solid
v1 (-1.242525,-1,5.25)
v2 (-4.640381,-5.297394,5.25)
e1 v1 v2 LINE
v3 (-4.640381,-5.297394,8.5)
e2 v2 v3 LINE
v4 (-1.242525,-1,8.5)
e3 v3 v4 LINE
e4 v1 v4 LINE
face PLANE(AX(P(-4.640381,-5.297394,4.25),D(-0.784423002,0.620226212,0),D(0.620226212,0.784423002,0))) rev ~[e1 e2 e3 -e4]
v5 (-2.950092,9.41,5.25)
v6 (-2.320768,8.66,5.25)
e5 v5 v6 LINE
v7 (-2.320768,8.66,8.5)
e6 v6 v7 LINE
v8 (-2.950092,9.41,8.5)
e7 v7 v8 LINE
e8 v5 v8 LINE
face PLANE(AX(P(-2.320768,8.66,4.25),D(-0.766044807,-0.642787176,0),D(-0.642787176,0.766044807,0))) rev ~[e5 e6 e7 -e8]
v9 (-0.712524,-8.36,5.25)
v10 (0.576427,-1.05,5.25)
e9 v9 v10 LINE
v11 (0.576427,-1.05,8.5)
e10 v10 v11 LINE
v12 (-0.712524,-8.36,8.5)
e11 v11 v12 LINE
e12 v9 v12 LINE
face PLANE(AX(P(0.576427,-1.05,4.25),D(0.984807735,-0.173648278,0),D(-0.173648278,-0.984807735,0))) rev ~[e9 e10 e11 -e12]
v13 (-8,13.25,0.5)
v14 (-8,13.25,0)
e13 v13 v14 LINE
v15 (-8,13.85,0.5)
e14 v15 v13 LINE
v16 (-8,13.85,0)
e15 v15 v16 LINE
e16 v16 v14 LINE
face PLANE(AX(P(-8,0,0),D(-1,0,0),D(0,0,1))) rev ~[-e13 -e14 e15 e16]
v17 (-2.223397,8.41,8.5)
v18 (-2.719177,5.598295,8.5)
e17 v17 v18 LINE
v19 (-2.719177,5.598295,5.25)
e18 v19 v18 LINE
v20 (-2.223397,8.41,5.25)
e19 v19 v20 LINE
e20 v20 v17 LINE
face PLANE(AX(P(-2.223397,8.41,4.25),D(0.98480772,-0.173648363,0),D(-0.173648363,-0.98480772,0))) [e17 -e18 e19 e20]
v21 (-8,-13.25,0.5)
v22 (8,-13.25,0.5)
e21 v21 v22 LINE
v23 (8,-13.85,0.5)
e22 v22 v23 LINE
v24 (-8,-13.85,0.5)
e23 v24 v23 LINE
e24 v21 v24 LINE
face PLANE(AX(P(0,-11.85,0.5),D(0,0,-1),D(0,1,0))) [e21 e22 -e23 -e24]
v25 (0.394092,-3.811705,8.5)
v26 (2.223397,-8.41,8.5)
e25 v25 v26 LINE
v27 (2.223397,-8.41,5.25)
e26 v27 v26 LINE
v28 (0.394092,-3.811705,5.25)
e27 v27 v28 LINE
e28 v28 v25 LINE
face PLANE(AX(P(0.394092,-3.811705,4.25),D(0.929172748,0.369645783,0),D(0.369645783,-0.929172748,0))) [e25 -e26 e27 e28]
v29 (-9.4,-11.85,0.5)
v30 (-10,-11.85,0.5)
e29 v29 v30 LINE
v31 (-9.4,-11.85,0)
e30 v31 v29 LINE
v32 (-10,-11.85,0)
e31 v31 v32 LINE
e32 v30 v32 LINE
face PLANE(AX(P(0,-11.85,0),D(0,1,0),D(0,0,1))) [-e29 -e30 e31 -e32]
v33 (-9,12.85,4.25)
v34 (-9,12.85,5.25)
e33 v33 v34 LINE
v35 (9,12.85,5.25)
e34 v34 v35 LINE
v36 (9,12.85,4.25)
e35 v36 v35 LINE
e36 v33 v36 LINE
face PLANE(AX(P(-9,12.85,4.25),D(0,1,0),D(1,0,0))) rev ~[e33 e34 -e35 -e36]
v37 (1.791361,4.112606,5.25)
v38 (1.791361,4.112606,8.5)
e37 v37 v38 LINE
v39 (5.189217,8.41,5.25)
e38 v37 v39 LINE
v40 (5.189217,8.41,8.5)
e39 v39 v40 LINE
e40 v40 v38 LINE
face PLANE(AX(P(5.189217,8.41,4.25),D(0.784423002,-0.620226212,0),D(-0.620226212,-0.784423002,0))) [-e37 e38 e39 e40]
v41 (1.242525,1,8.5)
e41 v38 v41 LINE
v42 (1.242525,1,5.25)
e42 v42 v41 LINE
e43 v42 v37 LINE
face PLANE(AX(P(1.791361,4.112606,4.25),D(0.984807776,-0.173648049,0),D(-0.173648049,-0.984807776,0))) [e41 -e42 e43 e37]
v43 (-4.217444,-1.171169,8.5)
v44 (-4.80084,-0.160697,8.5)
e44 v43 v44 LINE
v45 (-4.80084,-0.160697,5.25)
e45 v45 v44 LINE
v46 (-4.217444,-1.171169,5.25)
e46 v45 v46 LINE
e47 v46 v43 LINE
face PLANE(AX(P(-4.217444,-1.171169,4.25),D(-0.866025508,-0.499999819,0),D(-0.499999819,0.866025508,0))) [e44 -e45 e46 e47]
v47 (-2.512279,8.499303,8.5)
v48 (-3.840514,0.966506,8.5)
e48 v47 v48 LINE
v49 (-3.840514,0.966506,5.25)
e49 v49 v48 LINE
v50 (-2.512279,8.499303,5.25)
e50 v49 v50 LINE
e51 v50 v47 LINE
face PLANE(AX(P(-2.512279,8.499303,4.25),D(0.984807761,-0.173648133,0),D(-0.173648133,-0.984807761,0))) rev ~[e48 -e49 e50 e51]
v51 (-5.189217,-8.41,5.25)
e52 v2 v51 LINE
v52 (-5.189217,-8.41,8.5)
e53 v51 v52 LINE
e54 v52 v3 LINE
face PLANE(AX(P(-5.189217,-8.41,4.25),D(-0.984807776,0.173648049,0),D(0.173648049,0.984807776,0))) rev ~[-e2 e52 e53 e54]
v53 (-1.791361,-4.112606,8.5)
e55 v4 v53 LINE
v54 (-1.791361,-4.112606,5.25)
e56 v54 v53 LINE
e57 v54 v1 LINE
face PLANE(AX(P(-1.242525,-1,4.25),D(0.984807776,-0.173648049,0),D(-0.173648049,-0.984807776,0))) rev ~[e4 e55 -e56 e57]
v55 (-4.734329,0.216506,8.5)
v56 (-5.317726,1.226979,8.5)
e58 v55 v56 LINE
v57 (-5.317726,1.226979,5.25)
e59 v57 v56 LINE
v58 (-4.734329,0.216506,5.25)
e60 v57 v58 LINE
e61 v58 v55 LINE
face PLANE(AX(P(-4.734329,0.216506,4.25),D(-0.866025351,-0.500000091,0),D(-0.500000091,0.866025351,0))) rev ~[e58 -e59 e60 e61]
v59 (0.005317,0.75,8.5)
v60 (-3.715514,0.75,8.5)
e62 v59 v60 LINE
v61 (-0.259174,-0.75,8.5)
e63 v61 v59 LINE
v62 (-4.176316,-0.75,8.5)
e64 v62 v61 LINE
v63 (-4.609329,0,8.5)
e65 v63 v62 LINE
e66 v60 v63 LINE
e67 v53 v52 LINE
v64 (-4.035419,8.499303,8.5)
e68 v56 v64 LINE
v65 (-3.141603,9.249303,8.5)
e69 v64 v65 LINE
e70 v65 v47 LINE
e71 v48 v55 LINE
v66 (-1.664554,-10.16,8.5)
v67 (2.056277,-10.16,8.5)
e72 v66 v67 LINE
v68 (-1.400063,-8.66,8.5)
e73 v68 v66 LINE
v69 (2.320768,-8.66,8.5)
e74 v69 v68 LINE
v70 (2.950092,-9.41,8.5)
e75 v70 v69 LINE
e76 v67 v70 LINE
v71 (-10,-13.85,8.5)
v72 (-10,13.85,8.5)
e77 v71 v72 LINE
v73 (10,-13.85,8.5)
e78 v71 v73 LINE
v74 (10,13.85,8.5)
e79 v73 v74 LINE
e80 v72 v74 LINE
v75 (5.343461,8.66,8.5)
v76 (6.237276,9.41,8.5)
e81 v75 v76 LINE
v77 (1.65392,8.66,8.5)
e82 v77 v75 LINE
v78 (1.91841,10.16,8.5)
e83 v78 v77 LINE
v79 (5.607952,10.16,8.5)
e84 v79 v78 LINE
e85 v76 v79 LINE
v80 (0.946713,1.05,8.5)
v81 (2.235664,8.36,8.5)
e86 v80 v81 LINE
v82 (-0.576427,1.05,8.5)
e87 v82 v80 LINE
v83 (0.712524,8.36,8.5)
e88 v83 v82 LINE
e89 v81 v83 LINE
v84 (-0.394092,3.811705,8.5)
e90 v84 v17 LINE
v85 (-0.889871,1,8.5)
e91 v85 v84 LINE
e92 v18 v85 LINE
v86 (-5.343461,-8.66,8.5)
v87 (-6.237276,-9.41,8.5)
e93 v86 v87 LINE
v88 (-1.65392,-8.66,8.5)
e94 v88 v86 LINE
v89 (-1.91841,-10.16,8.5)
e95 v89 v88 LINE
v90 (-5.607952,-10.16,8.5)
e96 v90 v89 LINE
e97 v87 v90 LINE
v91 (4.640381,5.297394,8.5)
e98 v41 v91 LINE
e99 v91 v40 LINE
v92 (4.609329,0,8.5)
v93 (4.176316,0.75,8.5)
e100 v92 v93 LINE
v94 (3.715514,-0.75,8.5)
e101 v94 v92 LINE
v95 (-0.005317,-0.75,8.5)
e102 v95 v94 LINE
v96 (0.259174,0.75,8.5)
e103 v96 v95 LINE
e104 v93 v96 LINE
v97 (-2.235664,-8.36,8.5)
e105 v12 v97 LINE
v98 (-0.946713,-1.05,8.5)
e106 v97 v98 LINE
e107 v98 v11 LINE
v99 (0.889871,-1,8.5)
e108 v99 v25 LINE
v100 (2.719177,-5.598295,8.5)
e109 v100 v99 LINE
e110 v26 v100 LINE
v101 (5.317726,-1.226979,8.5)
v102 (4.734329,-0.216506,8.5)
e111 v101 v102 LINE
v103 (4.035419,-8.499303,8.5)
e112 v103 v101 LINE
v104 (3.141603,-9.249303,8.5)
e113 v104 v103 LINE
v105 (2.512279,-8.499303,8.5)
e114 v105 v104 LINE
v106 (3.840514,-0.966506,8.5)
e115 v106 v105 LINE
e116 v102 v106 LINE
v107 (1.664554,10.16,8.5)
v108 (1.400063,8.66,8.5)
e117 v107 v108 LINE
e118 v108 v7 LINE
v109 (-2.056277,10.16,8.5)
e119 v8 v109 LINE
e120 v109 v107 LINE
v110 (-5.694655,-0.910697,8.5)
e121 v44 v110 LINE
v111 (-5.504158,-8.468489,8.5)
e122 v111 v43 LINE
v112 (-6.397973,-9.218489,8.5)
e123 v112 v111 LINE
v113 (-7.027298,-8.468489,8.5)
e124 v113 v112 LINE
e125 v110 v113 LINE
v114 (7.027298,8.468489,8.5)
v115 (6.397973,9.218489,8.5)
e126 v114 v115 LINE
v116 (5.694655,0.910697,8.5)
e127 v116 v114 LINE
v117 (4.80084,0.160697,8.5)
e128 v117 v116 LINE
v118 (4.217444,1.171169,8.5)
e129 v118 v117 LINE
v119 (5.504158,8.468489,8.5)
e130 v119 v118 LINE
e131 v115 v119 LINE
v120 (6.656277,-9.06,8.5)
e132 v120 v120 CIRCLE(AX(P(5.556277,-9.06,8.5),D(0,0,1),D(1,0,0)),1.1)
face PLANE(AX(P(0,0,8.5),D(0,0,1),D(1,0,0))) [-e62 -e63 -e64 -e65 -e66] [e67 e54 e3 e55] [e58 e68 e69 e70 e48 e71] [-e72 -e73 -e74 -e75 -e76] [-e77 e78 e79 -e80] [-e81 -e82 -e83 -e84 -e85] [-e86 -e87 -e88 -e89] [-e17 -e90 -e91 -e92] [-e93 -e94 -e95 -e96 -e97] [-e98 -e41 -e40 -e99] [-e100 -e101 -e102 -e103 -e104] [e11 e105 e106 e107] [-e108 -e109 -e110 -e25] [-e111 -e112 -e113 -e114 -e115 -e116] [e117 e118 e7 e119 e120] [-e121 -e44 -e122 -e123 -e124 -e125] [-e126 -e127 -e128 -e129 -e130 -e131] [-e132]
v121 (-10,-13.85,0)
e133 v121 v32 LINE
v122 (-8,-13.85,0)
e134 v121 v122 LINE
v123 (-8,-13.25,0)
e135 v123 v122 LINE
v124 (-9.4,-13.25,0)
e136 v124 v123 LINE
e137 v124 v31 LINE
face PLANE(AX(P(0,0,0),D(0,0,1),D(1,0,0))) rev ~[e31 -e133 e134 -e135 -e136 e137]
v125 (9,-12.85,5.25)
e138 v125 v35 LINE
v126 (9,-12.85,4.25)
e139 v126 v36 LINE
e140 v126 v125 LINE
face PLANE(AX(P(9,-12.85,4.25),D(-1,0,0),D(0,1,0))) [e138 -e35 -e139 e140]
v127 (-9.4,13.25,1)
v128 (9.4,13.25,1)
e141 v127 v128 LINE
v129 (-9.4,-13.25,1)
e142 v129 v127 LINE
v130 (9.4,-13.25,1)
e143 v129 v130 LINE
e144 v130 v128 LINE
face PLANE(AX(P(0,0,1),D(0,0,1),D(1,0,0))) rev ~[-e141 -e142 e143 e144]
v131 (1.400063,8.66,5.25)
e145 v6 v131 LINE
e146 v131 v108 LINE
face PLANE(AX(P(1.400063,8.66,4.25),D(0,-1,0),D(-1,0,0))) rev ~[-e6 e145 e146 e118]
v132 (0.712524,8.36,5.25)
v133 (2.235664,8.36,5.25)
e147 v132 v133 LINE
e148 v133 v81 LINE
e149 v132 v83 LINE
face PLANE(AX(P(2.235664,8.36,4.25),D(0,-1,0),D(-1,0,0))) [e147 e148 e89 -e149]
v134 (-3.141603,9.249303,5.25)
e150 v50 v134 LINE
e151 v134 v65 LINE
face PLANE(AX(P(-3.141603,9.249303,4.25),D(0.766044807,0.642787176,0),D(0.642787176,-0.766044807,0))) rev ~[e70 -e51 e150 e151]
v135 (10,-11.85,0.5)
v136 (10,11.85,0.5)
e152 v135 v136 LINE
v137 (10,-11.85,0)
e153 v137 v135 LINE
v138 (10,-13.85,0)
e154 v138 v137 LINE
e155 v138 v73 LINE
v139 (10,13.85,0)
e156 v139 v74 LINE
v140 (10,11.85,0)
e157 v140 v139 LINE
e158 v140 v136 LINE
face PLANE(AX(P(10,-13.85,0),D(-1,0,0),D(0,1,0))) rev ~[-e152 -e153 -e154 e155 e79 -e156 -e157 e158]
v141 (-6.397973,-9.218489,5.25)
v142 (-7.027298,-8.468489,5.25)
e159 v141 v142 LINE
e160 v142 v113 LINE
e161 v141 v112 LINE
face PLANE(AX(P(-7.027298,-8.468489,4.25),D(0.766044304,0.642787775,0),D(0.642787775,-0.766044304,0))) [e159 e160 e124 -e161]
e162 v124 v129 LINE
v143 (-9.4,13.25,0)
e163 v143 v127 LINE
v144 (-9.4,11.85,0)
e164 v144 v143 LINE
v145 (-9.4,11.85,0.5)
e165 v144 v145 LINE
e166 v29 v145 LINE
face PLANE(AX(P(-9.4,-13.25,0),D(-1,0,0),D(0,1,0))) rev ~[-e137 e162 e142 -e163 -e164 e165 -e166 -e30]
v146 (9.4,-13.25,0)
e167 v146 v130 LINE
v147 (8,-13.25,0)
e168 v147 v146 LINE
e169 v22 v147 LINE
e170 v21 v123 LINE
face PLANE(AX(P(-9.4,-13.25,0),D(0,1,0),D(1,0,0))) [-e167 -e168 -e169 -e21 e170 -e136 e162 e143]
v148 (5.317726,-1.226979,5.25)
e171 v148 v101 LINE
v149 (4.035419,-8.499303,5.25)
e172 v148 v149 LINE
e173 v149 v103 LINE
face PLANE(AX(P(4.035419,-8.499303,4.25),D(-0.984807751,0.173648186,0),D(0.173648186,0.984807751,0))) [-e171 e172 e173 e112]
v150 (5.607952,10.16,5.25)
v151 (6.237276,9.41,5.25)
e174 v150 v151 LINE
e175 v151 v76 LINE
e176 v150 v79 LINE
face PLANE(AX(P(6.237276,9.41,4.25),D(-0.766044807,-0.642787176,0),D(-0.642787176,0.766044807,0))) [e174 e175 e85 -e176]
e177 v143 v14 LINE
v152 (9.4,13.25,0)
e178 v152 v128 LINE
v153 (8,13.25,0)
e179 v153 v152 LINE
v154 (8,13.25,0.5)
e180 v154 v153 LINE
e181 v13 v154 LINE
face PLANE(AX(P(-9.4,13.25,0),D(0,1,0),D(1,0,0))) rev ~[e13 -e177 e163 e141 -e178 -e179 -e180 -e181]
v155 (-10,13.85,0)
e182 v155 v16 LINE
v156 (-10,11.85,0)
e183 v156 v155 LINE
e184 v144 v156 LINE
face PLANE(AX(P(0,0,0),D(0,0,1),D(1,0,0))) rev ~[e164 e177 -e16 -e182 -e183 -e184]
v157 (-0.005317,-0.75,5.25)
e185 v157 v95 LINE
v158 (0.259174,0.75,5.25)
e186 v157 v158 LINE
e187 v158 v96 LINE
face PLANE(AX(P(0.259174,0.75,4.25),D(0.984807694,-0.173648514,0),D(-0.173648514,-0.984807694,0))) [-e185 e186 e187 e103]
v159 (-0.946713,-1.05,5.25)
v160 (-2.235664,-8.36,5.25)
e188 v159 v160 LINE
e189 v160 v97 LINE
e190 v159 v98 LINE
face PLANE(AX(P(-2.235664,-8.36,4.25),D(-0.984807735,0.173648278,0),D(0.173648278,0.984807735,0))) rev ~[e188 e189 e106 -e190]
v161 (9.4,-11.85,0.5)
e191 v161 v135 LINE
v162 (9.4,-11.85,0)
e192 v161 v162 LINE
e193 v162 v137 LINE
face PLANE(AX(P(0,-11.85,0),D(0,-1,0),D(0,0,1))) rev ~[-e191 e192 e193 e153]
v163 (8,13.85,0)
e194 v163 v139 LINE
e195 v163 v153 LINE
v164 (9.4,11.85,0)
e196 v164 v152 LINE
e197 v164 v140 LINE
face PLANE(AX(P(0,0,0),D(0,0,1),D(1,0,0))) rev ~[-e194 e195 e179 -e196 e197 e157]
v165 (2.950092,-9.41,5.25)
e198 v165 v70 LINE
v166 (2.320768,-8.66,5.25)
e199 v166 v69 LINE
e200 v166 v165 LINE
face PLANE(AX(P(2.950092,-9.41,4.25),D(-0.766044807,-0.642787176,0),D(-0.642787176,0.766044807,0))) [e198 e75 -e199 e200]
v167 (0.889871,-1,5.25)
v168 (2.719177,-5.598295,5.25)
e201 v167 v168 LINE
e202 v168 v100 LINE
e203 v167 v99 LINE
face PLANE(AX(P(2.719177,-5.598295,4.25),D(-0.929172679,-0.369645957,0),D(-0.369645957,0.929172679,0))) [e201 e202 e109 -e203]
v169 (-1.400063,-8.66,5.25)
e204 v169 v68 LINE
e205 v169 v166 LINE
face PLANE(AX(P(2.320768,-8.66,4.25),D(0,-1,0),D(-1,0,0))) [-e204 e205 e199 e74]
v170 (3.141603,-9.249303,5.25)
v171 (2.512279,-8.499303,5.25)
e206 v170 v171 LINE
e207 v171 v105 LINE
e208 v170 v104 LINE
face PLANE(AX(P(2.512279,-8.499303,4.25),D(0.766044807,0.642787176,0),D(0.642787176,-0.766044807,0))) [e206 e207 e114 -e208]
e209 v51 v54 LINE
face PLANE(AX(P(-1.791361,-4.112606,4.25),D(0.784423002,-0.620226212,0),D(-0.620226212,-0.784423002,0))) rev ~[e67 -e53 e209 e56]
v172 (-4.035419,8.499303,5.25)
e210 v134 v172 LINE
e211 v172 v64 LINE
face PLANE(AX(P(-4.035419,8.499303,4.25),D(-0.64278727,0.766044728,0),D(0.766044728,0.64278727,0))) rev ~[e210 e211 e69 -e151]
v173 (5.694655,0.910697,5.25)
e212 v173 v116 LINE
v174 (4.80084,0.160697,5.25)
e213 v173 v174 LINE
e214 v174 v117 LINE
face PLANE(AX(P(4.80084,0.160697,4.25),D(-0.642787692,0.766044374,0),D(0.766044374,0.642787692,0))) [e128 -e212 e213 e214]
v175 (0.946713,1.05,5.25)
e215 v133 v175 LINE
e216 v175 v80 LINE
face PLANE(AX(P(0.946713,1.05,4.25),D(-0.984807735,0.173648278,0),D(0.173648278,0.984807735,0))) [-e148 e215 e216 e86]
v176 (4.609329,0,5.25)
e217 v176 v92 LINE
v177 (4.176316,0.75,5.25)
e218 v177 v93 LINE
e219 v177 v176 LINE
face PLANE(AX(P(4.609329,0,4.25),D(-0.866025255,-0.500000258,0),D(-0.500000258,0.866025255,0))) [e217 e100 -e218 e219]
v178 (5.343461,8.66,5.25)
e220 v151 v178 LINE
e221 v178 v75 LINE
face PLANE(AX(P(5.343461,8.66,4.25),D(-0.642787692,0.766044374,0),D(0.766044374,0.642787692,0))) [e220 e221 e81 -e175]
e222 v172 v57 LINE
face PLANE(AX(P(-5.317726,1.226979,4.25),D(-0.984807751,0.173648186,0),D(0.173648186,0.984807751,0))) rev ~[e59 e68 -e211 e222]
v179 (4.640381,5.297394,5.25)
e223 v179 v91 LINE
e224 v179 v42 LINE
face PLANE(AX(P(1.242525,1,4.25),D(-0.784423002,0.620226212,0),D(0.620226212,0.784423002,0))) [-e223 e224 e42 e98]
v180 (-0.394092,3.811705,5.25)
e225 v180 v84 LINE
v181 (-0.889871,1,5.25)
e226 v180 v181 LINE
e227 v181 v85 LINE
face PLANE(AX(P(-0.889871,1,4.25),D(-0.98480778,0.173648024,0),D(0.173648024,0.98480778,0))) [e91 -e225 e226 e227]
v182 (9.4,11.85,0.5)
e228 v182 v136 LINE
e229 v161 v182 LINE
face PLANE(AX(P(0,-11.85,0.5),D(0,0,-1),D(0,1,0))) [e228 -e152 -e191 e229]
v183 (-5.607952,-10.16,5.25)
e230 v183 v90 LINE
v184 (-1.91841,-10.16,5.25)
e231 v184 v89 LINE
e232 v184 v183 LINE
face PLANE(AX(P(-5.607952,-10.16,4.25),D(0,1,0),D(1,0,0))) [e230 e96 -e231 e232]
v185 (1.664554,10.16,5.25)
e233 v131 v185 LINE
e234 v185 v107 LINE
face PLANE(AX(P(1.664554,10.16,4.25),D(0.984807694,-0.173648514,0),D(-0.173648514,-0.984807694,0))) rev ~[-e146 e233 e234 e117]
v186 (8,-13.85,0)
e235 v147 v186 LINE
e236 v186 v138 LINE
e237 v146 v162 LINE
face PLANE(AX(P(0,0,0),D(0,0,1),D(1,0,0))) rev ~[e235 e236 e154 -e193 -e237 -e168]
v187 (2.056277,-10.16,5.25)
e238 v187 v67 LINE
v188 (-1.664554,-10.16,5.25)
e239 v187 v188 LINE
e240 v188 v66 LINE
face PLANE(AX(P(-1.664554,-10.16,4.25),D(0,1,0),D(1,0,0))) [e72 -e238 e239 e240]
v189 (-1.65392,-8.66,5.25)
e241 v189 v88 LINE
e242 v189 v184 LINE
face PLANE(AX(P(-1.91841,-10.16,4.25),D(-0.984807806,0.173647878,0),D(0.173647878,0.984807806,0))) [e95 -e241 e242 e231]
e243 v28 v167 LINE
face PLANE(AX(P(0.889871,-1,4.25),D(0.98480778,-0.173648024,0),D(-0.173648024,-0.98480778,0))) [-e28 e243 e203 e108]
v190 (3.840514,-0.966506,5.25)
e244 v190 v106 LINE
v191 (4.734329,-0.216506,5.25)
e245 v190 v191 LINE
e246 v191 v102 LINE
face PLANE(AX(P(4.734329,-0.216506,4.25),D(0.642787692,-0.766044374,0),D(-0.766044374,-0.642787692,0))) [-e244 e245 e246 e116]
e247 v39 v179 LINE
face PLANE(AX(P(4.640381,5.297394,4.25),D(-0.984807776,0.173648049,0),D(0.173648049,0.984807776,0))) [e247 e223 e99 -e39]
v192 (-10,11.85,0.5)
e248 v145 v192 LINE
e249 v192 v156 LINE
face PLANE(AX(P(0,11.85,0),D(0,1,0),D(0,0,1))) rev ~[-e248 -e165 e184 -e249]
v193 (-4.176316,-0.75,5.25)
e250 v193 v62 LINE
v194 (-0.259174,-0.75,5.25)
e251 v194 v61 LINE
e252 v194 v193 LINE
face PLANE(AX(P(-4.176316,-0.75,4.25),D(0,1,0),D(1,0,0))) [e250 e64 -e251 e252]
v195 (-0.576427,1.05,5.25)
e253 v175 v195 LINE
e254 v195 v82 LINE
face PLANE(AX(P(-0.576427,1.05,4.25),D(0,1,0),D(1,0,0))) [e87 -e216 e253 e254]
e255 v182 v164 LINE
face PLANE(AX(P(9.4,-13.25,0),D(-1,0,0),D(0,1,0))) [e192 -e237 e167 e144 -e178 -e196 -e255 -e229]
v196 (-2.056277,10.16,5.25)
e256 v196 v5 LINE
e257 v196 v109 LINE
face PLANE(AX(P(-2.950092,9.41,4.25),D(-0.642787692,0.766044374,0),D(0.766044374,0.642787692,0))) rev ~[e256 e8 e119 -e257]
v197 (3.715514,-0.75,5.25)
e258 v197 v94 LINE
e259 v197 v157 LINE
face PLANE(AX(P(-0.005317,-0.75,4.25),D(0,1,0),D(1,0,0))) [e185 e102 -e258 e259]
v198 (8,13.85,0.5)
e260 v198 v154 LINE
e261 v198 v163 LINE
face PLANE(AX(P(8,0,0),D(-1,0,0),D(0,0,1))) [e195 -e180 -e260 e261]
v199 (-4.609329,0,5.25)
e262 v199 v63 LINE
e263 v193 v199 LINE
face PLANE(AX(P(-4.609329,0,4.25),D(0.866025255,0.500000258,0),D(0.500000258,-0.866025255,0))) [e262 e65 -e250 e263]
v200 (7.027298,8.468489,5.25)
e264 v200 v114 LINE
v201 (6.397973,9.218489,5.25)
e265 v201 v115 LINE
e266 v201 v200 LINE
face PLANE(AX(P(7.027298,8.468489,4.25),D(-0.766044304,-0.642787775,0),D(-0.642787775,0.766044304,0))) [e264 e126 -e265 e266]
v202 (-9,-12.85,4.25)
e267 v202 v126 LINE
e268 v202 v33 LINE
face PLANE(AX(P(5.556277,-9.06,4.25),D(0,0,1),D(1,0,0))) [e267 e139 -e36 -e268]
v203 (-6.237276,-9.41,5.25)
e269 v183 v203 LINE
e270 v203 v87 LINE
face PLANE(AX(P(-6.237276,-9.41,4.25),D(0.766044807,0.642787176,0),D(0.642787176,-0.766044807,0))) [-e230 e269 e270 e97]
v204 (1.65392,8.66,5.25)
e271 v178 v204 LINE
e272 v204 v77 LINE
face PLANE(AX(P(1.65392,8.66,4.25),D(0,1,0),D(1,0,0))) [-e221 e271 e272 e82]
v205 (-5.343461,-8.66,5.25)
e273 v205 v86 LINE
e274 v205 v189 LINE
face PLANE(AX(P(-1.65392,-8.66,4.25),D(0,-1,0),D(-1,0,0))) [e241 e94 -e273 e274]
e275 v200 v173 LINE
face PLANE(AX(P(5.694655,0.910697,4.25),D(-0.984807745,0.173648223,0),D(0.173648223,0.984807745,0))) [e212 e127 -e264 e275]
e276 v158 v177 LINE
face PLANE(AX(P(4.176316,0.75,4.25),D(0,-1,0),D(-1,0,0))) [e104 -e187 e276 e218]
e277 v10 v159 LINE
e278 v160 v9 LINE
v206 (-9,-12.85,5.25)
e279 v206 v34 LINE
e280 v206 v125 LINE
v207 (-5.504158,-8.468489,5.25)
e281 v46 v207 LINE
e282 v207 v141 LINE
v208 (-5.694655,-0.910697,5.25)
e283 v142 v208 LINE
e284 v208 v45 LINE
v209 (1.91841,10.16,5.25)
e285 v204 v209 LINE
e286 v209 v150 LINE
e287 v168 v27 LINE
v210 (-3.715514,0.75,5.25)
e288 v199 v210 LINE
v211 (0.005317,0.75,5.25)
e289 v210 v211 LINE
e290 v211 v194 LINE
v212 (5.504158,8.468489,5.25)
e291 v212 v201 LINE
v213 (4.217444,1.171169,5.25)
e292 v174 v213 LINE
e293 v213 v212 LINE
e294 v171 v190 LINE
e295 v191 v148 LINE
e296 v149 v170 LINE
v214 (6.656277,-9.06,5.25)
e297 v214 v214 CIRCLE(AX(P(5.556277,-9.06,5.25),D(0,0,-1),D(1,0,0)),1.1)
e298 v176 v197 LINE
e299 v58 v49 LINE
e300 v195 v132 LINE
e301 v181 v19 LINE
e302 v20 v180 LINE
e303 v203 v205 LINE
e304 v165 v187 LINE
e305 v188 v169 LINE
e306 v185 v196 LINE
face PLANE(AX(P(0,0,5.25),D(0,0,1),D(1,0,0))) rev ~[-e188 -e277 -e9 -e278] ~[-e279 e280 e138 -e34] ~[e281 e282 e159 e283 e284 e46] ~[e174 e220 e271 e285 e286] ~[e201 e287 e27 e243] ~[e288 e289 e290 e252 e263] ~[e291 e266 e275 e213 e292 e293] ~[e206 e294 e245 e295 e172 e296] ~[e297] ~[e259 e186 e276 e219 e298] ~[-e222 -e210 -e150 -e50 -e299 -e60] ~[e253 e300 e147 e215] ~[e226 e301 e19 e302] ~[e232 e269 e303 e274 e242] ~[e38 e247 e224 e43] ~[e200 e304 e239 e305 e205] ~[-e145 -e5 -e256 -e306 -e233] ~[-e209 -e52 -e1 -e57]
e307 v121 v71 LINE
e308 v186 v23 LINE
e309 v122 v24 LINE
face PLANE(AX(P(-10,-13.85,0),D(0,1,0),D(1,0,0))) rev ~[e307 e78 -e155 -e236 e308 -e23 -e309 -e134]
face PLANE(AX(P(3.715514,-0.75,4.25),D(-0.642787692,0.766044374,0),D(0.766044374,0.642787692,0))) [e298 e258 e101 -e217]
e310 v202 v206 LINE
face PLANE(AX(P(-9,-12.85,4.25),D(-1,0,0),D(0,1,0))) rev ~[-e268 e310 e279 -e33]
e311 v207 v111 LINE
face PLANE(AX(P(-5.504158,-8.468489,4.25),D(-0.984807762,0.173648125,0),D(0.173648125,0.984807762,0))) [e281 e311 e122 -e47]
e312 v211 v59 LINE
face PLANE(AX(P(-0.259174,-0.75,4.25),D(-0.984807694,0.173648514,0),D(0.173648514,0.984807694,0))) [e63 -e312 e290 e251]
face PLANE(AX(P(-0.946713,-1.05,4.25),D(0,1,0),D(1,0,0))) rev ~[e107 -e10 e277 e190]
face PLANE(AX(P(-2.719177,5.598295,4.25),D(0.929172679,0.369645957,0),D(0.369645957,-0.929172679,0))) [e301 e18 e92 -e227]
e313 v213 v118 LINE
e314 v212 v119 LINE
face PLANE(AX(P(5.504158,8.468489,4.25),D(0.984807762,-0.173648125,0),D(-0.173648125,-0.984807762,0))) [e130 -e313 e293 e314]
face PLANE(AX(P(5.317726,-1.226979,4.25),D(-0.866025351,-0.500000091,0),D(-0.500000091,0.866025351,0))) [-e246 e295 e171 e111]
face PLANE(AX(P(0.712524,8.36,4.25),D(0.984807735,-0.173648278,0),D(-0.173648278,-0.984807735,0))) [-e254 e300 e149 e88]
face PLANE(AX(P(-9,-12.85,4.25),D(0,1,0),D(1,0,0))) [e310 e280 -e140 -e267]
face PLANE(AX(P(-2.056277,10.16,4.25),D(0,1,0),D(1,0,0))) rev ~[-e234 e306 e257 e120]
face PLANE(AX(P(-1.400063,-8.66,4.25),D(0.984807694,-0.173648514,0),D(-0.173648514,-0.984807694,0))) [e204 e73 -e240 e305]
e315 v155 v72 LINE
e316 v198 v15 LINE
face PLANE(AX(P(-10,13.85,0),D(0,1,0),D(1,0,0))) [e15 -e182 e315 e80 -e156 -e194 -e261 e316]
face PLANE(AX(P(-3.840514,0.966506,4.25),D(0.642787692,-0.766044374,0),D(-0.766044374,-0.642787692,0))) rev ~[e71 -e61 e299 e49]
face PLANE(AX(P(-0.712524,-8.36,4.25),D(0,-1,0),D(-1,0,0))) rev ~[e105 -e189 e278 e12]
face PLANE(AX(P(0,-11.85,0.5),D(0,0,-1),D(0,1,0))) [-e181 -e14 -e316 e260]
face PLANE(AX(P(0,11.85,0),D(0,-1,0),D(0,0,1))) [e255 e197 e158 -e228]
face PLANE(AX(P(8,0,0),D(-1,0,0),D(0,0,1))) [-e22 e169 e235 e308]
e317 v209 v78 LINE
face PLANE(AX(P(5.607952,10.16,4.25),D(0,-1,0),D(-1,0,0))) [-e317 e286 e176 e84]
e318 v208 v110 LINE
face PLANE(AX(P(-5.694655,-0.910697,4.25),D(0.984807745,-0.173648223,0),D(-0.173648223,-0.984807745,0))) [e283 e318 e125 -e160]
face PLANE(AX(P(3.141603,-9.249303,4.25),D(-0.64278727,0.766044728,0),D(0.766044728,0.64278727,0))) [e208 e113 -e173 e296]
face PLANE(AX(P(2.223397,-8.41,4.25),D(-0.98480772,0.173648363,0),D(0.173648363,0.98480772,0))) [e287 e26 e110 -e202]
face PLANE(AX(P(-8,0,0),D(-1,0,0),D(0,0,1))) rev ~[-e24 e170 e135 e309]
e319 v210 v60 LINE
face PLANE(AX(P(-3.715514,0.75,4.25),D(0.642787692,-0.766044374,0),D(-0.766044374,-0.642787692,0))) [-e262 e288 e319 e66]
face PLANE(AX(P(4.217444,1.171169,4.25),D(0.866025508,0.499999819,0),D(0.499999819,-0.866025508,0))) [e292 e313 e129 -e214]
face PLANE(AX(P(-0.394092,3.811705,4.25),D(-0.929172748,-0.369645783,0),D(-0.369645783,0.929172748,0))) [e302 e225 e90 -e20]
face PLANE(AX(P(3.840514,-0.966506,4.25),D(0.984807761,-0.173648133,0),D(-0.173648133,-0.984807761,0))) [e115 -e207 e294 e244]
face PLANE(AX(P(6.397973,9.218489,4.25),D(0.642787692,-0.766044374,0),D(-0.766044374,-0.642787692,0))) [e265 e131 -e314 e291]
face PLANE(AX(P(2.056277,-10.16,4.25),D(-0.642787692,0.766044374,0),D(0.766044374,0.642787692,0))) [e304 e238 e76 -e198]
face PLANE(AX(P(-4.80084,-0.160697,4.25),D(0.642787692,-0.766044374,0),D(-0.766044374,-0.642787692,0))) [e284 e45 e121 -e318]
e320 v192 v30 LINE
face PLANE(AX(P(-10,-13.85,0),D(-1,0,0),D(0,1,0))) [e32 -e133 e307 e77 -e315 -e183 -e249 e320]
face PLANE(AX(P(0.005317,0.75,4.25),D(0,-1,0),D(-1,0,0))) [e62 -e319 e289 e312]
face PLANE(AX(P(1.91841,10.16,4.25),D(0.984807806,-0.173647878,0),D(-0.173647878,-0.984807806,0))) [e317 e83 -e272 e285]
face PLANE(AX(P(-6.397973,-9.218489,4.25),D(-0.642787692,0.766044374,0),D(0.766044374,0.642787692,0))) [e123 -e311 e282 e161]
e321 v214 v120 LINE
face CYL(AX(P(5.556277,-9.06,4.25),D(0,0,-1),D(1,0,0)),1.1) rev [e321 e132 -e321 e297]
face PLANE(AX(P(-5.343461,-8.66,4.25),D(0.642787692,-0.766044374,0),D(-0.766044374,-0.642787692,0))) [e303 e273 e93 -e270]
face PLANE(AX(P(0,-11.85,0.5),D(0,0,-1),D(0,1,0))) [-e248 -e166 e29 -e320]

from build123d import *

# Parameters (mm, degrees)
SKETCH_W             = 18
SKETCH_H             = 25.7
PAD001_DEPTH         = 1
SKETCH002_R          = 1.1
PAD002_DEPTH         = 4.25
SKETCH004_W          = 20
SKETCH004_H          = 27.7
PAD004_DEPTH         = 8.5
SKETCH005_W          = 16
SKETCH005_H          = 0.5
POCKET_DEPTH         = 13.851
POCKET_DEPTH_BACK    = 13.851
SKETCH006_W          = 23.7
SKETCH006_H          = 0.5
POCKET001_DEPTH      = 10.001
POCKET001_DEPTH_BACK = 10.001
SKETCH007_W          = 18.8
SKETCH007_H          = 26.5
POCKET002_DEPTH      = 1


with BuildPart() as body004:
    # Sketch → Pad001 (new body)
    with BuildSketch(Plane.XY):
        Rectangle(SKETCH_W, SKETCH_H)
    extrude(amount=PAD001_DEPTH)

    # Sketch002 → Pad002 (join)
    with BuildSketch(Plane.XY):
        with Locations((5.556277, -9.06)):
            Circle(SKETCH002_R)
        Polygon((1.664554, 10.16), (1.400063, 8.66), (-2.320768, 8.66), (-2.950092, 9.41), (-2.056277, 10.16), align=None)
        Polygon((1.91841, 10.16), (1.65392, 8.66), (5.343461, 8.66), (6.237276, 9.41), (5.607952, 10.16), align=None)
        Polygon((-3.141603, 9.249303), (-2.512279, 8.499303), (-3.840514, 0.966506), (-4.734329, 0.216506), (-5.317726, 1.226979), (-4.035419, 8.499303), align=None)
        Polygon((6.397973, 9.218489), (5.504158, 8.468489), (4.217444, 1.171169), (4.80084, 0.160697), (5.694655, 0.910697), (7.027298, 8.468489), align=None)
        Polygon((-3.715514, 0.75), (-4.609329, 0), (-4.176316, -0.75), (-0.259174, -0.75), (0.005317, 0.75), align=None)
        Polygon((0.259174, 0.75), (-0.005317, -0.75), (3.715514, -0.75), (4.609329, 0), (4.176316, 0.75), align=None)
        Polygon((4.734329, -0.216506), (3.840514, -0.966506), (2.512279, -8.499303), (3.141603, -9.249303), (4.035419, -8.499303), (5.317726, -1.226979), align=None)
        Polygon((-4.217444, -1.171169), (-4.80084, -0.160697), (-5.694655, -0.910697), (-7.027298, -8.468489), (-6.397973, -9.218489), (-5.504158, -8.468489), align=None)
        Polygon((-5.343461, -8.66), (-6.237276, -9.41), (-5.607952, -10.16), (-1.91841, -10.16), (-1.65392, -8.66), align=None)
        Polygon((-1.400063, -8.66), (-1.664554, -10.16), (2.056277, -10.16), (2.950092, -9.41), (2.320768, -8.66), align=None)
        Polygon((-0.946713, -1.05), (0.576427, -1.05), (-0.712524, -8.36), (-2.235664, -8.36), align=None)
        Polygon((-0.576427, 1.05), (0.946713, 1.05), (2.235664, 8.36), (0.712524, 8.36), align=None)
        Polygon((-2.223397, 8.41), (-2.719177, 5.598295), (-0.889871, 1), (-0.394092, 3.811705), align=None)
        Polygon((1.791361, 4.112606), (1.242525, 1), (4.640381, 5.297394), (5.189217, 8.41), align=None)
        Polygon((0.889871, -1), (0.394092, -3.811705), (2.223397, -8.41), (2.719177, -5.598295), align=None)
        Polygon((-1.242525, -1), (-1.791361, -4.112606), (-5.189217, -8.41), (-4.640381, -5.297394), align=None)
    extrude(amount=PAD002_DEPTH)


with BuildPart() as body004_1:
    # Body001 placement: moved
    add(body004.part.moved(Location((0, 0, 4.25))))


with BuildPart() as pkg:
    # Sketch004 → Pad004 (new body)
    with BuildSketch(Plane.XY):
        Rectangle(SKETCH004_W, SKETCH004_H)
    extrude(amount=PAD004_DEPTH)

    # Sketch005 → Pocket (cut, two sides)
    with BuildSketch(Plane.XZ) as pocket_sk:
        with Locations((0, 0.25)):
            Rectangle(SKETCH005_W, SKETCH005_H)
    extrude(amount=-POCKET_DEPTH, mode=Mode.SUBTRACT)
    extrude(pocket_sk.sketch, amount=POCKET_DEPTH_BACK, mode=Mode.SUBTRACT)

    # Sketch006 → Pocket001 (cut, two sides)
    with BuildSketch(Plane.YZ) as pocket001_sk:
        with Locations((0, 0.25)):
            Rectangle(SKETCH006_W, SKETCH006_H)
    extrude(amount=-POCKET001_DEPTH, mode=Mode.SUBTRACT)
    extrude(pocket001_sk.sketch, amount=POCKET001_DEPTH_BACK, mode=Mode.SUBTRACT)

    # Sketch007 → Pocket002 (cut)
    with BuildSketch(Plane.XY):
        Rectangle(SKETCH007_W, SKETCH007_H)
    extrude(amount=POCKET002_DEPTH, mode=Mode.SUBTRACT)

    # Cut: cut Body004
    add(body004_1.part, mode=Mode.SUBTRACT)


solid = pkg.part
